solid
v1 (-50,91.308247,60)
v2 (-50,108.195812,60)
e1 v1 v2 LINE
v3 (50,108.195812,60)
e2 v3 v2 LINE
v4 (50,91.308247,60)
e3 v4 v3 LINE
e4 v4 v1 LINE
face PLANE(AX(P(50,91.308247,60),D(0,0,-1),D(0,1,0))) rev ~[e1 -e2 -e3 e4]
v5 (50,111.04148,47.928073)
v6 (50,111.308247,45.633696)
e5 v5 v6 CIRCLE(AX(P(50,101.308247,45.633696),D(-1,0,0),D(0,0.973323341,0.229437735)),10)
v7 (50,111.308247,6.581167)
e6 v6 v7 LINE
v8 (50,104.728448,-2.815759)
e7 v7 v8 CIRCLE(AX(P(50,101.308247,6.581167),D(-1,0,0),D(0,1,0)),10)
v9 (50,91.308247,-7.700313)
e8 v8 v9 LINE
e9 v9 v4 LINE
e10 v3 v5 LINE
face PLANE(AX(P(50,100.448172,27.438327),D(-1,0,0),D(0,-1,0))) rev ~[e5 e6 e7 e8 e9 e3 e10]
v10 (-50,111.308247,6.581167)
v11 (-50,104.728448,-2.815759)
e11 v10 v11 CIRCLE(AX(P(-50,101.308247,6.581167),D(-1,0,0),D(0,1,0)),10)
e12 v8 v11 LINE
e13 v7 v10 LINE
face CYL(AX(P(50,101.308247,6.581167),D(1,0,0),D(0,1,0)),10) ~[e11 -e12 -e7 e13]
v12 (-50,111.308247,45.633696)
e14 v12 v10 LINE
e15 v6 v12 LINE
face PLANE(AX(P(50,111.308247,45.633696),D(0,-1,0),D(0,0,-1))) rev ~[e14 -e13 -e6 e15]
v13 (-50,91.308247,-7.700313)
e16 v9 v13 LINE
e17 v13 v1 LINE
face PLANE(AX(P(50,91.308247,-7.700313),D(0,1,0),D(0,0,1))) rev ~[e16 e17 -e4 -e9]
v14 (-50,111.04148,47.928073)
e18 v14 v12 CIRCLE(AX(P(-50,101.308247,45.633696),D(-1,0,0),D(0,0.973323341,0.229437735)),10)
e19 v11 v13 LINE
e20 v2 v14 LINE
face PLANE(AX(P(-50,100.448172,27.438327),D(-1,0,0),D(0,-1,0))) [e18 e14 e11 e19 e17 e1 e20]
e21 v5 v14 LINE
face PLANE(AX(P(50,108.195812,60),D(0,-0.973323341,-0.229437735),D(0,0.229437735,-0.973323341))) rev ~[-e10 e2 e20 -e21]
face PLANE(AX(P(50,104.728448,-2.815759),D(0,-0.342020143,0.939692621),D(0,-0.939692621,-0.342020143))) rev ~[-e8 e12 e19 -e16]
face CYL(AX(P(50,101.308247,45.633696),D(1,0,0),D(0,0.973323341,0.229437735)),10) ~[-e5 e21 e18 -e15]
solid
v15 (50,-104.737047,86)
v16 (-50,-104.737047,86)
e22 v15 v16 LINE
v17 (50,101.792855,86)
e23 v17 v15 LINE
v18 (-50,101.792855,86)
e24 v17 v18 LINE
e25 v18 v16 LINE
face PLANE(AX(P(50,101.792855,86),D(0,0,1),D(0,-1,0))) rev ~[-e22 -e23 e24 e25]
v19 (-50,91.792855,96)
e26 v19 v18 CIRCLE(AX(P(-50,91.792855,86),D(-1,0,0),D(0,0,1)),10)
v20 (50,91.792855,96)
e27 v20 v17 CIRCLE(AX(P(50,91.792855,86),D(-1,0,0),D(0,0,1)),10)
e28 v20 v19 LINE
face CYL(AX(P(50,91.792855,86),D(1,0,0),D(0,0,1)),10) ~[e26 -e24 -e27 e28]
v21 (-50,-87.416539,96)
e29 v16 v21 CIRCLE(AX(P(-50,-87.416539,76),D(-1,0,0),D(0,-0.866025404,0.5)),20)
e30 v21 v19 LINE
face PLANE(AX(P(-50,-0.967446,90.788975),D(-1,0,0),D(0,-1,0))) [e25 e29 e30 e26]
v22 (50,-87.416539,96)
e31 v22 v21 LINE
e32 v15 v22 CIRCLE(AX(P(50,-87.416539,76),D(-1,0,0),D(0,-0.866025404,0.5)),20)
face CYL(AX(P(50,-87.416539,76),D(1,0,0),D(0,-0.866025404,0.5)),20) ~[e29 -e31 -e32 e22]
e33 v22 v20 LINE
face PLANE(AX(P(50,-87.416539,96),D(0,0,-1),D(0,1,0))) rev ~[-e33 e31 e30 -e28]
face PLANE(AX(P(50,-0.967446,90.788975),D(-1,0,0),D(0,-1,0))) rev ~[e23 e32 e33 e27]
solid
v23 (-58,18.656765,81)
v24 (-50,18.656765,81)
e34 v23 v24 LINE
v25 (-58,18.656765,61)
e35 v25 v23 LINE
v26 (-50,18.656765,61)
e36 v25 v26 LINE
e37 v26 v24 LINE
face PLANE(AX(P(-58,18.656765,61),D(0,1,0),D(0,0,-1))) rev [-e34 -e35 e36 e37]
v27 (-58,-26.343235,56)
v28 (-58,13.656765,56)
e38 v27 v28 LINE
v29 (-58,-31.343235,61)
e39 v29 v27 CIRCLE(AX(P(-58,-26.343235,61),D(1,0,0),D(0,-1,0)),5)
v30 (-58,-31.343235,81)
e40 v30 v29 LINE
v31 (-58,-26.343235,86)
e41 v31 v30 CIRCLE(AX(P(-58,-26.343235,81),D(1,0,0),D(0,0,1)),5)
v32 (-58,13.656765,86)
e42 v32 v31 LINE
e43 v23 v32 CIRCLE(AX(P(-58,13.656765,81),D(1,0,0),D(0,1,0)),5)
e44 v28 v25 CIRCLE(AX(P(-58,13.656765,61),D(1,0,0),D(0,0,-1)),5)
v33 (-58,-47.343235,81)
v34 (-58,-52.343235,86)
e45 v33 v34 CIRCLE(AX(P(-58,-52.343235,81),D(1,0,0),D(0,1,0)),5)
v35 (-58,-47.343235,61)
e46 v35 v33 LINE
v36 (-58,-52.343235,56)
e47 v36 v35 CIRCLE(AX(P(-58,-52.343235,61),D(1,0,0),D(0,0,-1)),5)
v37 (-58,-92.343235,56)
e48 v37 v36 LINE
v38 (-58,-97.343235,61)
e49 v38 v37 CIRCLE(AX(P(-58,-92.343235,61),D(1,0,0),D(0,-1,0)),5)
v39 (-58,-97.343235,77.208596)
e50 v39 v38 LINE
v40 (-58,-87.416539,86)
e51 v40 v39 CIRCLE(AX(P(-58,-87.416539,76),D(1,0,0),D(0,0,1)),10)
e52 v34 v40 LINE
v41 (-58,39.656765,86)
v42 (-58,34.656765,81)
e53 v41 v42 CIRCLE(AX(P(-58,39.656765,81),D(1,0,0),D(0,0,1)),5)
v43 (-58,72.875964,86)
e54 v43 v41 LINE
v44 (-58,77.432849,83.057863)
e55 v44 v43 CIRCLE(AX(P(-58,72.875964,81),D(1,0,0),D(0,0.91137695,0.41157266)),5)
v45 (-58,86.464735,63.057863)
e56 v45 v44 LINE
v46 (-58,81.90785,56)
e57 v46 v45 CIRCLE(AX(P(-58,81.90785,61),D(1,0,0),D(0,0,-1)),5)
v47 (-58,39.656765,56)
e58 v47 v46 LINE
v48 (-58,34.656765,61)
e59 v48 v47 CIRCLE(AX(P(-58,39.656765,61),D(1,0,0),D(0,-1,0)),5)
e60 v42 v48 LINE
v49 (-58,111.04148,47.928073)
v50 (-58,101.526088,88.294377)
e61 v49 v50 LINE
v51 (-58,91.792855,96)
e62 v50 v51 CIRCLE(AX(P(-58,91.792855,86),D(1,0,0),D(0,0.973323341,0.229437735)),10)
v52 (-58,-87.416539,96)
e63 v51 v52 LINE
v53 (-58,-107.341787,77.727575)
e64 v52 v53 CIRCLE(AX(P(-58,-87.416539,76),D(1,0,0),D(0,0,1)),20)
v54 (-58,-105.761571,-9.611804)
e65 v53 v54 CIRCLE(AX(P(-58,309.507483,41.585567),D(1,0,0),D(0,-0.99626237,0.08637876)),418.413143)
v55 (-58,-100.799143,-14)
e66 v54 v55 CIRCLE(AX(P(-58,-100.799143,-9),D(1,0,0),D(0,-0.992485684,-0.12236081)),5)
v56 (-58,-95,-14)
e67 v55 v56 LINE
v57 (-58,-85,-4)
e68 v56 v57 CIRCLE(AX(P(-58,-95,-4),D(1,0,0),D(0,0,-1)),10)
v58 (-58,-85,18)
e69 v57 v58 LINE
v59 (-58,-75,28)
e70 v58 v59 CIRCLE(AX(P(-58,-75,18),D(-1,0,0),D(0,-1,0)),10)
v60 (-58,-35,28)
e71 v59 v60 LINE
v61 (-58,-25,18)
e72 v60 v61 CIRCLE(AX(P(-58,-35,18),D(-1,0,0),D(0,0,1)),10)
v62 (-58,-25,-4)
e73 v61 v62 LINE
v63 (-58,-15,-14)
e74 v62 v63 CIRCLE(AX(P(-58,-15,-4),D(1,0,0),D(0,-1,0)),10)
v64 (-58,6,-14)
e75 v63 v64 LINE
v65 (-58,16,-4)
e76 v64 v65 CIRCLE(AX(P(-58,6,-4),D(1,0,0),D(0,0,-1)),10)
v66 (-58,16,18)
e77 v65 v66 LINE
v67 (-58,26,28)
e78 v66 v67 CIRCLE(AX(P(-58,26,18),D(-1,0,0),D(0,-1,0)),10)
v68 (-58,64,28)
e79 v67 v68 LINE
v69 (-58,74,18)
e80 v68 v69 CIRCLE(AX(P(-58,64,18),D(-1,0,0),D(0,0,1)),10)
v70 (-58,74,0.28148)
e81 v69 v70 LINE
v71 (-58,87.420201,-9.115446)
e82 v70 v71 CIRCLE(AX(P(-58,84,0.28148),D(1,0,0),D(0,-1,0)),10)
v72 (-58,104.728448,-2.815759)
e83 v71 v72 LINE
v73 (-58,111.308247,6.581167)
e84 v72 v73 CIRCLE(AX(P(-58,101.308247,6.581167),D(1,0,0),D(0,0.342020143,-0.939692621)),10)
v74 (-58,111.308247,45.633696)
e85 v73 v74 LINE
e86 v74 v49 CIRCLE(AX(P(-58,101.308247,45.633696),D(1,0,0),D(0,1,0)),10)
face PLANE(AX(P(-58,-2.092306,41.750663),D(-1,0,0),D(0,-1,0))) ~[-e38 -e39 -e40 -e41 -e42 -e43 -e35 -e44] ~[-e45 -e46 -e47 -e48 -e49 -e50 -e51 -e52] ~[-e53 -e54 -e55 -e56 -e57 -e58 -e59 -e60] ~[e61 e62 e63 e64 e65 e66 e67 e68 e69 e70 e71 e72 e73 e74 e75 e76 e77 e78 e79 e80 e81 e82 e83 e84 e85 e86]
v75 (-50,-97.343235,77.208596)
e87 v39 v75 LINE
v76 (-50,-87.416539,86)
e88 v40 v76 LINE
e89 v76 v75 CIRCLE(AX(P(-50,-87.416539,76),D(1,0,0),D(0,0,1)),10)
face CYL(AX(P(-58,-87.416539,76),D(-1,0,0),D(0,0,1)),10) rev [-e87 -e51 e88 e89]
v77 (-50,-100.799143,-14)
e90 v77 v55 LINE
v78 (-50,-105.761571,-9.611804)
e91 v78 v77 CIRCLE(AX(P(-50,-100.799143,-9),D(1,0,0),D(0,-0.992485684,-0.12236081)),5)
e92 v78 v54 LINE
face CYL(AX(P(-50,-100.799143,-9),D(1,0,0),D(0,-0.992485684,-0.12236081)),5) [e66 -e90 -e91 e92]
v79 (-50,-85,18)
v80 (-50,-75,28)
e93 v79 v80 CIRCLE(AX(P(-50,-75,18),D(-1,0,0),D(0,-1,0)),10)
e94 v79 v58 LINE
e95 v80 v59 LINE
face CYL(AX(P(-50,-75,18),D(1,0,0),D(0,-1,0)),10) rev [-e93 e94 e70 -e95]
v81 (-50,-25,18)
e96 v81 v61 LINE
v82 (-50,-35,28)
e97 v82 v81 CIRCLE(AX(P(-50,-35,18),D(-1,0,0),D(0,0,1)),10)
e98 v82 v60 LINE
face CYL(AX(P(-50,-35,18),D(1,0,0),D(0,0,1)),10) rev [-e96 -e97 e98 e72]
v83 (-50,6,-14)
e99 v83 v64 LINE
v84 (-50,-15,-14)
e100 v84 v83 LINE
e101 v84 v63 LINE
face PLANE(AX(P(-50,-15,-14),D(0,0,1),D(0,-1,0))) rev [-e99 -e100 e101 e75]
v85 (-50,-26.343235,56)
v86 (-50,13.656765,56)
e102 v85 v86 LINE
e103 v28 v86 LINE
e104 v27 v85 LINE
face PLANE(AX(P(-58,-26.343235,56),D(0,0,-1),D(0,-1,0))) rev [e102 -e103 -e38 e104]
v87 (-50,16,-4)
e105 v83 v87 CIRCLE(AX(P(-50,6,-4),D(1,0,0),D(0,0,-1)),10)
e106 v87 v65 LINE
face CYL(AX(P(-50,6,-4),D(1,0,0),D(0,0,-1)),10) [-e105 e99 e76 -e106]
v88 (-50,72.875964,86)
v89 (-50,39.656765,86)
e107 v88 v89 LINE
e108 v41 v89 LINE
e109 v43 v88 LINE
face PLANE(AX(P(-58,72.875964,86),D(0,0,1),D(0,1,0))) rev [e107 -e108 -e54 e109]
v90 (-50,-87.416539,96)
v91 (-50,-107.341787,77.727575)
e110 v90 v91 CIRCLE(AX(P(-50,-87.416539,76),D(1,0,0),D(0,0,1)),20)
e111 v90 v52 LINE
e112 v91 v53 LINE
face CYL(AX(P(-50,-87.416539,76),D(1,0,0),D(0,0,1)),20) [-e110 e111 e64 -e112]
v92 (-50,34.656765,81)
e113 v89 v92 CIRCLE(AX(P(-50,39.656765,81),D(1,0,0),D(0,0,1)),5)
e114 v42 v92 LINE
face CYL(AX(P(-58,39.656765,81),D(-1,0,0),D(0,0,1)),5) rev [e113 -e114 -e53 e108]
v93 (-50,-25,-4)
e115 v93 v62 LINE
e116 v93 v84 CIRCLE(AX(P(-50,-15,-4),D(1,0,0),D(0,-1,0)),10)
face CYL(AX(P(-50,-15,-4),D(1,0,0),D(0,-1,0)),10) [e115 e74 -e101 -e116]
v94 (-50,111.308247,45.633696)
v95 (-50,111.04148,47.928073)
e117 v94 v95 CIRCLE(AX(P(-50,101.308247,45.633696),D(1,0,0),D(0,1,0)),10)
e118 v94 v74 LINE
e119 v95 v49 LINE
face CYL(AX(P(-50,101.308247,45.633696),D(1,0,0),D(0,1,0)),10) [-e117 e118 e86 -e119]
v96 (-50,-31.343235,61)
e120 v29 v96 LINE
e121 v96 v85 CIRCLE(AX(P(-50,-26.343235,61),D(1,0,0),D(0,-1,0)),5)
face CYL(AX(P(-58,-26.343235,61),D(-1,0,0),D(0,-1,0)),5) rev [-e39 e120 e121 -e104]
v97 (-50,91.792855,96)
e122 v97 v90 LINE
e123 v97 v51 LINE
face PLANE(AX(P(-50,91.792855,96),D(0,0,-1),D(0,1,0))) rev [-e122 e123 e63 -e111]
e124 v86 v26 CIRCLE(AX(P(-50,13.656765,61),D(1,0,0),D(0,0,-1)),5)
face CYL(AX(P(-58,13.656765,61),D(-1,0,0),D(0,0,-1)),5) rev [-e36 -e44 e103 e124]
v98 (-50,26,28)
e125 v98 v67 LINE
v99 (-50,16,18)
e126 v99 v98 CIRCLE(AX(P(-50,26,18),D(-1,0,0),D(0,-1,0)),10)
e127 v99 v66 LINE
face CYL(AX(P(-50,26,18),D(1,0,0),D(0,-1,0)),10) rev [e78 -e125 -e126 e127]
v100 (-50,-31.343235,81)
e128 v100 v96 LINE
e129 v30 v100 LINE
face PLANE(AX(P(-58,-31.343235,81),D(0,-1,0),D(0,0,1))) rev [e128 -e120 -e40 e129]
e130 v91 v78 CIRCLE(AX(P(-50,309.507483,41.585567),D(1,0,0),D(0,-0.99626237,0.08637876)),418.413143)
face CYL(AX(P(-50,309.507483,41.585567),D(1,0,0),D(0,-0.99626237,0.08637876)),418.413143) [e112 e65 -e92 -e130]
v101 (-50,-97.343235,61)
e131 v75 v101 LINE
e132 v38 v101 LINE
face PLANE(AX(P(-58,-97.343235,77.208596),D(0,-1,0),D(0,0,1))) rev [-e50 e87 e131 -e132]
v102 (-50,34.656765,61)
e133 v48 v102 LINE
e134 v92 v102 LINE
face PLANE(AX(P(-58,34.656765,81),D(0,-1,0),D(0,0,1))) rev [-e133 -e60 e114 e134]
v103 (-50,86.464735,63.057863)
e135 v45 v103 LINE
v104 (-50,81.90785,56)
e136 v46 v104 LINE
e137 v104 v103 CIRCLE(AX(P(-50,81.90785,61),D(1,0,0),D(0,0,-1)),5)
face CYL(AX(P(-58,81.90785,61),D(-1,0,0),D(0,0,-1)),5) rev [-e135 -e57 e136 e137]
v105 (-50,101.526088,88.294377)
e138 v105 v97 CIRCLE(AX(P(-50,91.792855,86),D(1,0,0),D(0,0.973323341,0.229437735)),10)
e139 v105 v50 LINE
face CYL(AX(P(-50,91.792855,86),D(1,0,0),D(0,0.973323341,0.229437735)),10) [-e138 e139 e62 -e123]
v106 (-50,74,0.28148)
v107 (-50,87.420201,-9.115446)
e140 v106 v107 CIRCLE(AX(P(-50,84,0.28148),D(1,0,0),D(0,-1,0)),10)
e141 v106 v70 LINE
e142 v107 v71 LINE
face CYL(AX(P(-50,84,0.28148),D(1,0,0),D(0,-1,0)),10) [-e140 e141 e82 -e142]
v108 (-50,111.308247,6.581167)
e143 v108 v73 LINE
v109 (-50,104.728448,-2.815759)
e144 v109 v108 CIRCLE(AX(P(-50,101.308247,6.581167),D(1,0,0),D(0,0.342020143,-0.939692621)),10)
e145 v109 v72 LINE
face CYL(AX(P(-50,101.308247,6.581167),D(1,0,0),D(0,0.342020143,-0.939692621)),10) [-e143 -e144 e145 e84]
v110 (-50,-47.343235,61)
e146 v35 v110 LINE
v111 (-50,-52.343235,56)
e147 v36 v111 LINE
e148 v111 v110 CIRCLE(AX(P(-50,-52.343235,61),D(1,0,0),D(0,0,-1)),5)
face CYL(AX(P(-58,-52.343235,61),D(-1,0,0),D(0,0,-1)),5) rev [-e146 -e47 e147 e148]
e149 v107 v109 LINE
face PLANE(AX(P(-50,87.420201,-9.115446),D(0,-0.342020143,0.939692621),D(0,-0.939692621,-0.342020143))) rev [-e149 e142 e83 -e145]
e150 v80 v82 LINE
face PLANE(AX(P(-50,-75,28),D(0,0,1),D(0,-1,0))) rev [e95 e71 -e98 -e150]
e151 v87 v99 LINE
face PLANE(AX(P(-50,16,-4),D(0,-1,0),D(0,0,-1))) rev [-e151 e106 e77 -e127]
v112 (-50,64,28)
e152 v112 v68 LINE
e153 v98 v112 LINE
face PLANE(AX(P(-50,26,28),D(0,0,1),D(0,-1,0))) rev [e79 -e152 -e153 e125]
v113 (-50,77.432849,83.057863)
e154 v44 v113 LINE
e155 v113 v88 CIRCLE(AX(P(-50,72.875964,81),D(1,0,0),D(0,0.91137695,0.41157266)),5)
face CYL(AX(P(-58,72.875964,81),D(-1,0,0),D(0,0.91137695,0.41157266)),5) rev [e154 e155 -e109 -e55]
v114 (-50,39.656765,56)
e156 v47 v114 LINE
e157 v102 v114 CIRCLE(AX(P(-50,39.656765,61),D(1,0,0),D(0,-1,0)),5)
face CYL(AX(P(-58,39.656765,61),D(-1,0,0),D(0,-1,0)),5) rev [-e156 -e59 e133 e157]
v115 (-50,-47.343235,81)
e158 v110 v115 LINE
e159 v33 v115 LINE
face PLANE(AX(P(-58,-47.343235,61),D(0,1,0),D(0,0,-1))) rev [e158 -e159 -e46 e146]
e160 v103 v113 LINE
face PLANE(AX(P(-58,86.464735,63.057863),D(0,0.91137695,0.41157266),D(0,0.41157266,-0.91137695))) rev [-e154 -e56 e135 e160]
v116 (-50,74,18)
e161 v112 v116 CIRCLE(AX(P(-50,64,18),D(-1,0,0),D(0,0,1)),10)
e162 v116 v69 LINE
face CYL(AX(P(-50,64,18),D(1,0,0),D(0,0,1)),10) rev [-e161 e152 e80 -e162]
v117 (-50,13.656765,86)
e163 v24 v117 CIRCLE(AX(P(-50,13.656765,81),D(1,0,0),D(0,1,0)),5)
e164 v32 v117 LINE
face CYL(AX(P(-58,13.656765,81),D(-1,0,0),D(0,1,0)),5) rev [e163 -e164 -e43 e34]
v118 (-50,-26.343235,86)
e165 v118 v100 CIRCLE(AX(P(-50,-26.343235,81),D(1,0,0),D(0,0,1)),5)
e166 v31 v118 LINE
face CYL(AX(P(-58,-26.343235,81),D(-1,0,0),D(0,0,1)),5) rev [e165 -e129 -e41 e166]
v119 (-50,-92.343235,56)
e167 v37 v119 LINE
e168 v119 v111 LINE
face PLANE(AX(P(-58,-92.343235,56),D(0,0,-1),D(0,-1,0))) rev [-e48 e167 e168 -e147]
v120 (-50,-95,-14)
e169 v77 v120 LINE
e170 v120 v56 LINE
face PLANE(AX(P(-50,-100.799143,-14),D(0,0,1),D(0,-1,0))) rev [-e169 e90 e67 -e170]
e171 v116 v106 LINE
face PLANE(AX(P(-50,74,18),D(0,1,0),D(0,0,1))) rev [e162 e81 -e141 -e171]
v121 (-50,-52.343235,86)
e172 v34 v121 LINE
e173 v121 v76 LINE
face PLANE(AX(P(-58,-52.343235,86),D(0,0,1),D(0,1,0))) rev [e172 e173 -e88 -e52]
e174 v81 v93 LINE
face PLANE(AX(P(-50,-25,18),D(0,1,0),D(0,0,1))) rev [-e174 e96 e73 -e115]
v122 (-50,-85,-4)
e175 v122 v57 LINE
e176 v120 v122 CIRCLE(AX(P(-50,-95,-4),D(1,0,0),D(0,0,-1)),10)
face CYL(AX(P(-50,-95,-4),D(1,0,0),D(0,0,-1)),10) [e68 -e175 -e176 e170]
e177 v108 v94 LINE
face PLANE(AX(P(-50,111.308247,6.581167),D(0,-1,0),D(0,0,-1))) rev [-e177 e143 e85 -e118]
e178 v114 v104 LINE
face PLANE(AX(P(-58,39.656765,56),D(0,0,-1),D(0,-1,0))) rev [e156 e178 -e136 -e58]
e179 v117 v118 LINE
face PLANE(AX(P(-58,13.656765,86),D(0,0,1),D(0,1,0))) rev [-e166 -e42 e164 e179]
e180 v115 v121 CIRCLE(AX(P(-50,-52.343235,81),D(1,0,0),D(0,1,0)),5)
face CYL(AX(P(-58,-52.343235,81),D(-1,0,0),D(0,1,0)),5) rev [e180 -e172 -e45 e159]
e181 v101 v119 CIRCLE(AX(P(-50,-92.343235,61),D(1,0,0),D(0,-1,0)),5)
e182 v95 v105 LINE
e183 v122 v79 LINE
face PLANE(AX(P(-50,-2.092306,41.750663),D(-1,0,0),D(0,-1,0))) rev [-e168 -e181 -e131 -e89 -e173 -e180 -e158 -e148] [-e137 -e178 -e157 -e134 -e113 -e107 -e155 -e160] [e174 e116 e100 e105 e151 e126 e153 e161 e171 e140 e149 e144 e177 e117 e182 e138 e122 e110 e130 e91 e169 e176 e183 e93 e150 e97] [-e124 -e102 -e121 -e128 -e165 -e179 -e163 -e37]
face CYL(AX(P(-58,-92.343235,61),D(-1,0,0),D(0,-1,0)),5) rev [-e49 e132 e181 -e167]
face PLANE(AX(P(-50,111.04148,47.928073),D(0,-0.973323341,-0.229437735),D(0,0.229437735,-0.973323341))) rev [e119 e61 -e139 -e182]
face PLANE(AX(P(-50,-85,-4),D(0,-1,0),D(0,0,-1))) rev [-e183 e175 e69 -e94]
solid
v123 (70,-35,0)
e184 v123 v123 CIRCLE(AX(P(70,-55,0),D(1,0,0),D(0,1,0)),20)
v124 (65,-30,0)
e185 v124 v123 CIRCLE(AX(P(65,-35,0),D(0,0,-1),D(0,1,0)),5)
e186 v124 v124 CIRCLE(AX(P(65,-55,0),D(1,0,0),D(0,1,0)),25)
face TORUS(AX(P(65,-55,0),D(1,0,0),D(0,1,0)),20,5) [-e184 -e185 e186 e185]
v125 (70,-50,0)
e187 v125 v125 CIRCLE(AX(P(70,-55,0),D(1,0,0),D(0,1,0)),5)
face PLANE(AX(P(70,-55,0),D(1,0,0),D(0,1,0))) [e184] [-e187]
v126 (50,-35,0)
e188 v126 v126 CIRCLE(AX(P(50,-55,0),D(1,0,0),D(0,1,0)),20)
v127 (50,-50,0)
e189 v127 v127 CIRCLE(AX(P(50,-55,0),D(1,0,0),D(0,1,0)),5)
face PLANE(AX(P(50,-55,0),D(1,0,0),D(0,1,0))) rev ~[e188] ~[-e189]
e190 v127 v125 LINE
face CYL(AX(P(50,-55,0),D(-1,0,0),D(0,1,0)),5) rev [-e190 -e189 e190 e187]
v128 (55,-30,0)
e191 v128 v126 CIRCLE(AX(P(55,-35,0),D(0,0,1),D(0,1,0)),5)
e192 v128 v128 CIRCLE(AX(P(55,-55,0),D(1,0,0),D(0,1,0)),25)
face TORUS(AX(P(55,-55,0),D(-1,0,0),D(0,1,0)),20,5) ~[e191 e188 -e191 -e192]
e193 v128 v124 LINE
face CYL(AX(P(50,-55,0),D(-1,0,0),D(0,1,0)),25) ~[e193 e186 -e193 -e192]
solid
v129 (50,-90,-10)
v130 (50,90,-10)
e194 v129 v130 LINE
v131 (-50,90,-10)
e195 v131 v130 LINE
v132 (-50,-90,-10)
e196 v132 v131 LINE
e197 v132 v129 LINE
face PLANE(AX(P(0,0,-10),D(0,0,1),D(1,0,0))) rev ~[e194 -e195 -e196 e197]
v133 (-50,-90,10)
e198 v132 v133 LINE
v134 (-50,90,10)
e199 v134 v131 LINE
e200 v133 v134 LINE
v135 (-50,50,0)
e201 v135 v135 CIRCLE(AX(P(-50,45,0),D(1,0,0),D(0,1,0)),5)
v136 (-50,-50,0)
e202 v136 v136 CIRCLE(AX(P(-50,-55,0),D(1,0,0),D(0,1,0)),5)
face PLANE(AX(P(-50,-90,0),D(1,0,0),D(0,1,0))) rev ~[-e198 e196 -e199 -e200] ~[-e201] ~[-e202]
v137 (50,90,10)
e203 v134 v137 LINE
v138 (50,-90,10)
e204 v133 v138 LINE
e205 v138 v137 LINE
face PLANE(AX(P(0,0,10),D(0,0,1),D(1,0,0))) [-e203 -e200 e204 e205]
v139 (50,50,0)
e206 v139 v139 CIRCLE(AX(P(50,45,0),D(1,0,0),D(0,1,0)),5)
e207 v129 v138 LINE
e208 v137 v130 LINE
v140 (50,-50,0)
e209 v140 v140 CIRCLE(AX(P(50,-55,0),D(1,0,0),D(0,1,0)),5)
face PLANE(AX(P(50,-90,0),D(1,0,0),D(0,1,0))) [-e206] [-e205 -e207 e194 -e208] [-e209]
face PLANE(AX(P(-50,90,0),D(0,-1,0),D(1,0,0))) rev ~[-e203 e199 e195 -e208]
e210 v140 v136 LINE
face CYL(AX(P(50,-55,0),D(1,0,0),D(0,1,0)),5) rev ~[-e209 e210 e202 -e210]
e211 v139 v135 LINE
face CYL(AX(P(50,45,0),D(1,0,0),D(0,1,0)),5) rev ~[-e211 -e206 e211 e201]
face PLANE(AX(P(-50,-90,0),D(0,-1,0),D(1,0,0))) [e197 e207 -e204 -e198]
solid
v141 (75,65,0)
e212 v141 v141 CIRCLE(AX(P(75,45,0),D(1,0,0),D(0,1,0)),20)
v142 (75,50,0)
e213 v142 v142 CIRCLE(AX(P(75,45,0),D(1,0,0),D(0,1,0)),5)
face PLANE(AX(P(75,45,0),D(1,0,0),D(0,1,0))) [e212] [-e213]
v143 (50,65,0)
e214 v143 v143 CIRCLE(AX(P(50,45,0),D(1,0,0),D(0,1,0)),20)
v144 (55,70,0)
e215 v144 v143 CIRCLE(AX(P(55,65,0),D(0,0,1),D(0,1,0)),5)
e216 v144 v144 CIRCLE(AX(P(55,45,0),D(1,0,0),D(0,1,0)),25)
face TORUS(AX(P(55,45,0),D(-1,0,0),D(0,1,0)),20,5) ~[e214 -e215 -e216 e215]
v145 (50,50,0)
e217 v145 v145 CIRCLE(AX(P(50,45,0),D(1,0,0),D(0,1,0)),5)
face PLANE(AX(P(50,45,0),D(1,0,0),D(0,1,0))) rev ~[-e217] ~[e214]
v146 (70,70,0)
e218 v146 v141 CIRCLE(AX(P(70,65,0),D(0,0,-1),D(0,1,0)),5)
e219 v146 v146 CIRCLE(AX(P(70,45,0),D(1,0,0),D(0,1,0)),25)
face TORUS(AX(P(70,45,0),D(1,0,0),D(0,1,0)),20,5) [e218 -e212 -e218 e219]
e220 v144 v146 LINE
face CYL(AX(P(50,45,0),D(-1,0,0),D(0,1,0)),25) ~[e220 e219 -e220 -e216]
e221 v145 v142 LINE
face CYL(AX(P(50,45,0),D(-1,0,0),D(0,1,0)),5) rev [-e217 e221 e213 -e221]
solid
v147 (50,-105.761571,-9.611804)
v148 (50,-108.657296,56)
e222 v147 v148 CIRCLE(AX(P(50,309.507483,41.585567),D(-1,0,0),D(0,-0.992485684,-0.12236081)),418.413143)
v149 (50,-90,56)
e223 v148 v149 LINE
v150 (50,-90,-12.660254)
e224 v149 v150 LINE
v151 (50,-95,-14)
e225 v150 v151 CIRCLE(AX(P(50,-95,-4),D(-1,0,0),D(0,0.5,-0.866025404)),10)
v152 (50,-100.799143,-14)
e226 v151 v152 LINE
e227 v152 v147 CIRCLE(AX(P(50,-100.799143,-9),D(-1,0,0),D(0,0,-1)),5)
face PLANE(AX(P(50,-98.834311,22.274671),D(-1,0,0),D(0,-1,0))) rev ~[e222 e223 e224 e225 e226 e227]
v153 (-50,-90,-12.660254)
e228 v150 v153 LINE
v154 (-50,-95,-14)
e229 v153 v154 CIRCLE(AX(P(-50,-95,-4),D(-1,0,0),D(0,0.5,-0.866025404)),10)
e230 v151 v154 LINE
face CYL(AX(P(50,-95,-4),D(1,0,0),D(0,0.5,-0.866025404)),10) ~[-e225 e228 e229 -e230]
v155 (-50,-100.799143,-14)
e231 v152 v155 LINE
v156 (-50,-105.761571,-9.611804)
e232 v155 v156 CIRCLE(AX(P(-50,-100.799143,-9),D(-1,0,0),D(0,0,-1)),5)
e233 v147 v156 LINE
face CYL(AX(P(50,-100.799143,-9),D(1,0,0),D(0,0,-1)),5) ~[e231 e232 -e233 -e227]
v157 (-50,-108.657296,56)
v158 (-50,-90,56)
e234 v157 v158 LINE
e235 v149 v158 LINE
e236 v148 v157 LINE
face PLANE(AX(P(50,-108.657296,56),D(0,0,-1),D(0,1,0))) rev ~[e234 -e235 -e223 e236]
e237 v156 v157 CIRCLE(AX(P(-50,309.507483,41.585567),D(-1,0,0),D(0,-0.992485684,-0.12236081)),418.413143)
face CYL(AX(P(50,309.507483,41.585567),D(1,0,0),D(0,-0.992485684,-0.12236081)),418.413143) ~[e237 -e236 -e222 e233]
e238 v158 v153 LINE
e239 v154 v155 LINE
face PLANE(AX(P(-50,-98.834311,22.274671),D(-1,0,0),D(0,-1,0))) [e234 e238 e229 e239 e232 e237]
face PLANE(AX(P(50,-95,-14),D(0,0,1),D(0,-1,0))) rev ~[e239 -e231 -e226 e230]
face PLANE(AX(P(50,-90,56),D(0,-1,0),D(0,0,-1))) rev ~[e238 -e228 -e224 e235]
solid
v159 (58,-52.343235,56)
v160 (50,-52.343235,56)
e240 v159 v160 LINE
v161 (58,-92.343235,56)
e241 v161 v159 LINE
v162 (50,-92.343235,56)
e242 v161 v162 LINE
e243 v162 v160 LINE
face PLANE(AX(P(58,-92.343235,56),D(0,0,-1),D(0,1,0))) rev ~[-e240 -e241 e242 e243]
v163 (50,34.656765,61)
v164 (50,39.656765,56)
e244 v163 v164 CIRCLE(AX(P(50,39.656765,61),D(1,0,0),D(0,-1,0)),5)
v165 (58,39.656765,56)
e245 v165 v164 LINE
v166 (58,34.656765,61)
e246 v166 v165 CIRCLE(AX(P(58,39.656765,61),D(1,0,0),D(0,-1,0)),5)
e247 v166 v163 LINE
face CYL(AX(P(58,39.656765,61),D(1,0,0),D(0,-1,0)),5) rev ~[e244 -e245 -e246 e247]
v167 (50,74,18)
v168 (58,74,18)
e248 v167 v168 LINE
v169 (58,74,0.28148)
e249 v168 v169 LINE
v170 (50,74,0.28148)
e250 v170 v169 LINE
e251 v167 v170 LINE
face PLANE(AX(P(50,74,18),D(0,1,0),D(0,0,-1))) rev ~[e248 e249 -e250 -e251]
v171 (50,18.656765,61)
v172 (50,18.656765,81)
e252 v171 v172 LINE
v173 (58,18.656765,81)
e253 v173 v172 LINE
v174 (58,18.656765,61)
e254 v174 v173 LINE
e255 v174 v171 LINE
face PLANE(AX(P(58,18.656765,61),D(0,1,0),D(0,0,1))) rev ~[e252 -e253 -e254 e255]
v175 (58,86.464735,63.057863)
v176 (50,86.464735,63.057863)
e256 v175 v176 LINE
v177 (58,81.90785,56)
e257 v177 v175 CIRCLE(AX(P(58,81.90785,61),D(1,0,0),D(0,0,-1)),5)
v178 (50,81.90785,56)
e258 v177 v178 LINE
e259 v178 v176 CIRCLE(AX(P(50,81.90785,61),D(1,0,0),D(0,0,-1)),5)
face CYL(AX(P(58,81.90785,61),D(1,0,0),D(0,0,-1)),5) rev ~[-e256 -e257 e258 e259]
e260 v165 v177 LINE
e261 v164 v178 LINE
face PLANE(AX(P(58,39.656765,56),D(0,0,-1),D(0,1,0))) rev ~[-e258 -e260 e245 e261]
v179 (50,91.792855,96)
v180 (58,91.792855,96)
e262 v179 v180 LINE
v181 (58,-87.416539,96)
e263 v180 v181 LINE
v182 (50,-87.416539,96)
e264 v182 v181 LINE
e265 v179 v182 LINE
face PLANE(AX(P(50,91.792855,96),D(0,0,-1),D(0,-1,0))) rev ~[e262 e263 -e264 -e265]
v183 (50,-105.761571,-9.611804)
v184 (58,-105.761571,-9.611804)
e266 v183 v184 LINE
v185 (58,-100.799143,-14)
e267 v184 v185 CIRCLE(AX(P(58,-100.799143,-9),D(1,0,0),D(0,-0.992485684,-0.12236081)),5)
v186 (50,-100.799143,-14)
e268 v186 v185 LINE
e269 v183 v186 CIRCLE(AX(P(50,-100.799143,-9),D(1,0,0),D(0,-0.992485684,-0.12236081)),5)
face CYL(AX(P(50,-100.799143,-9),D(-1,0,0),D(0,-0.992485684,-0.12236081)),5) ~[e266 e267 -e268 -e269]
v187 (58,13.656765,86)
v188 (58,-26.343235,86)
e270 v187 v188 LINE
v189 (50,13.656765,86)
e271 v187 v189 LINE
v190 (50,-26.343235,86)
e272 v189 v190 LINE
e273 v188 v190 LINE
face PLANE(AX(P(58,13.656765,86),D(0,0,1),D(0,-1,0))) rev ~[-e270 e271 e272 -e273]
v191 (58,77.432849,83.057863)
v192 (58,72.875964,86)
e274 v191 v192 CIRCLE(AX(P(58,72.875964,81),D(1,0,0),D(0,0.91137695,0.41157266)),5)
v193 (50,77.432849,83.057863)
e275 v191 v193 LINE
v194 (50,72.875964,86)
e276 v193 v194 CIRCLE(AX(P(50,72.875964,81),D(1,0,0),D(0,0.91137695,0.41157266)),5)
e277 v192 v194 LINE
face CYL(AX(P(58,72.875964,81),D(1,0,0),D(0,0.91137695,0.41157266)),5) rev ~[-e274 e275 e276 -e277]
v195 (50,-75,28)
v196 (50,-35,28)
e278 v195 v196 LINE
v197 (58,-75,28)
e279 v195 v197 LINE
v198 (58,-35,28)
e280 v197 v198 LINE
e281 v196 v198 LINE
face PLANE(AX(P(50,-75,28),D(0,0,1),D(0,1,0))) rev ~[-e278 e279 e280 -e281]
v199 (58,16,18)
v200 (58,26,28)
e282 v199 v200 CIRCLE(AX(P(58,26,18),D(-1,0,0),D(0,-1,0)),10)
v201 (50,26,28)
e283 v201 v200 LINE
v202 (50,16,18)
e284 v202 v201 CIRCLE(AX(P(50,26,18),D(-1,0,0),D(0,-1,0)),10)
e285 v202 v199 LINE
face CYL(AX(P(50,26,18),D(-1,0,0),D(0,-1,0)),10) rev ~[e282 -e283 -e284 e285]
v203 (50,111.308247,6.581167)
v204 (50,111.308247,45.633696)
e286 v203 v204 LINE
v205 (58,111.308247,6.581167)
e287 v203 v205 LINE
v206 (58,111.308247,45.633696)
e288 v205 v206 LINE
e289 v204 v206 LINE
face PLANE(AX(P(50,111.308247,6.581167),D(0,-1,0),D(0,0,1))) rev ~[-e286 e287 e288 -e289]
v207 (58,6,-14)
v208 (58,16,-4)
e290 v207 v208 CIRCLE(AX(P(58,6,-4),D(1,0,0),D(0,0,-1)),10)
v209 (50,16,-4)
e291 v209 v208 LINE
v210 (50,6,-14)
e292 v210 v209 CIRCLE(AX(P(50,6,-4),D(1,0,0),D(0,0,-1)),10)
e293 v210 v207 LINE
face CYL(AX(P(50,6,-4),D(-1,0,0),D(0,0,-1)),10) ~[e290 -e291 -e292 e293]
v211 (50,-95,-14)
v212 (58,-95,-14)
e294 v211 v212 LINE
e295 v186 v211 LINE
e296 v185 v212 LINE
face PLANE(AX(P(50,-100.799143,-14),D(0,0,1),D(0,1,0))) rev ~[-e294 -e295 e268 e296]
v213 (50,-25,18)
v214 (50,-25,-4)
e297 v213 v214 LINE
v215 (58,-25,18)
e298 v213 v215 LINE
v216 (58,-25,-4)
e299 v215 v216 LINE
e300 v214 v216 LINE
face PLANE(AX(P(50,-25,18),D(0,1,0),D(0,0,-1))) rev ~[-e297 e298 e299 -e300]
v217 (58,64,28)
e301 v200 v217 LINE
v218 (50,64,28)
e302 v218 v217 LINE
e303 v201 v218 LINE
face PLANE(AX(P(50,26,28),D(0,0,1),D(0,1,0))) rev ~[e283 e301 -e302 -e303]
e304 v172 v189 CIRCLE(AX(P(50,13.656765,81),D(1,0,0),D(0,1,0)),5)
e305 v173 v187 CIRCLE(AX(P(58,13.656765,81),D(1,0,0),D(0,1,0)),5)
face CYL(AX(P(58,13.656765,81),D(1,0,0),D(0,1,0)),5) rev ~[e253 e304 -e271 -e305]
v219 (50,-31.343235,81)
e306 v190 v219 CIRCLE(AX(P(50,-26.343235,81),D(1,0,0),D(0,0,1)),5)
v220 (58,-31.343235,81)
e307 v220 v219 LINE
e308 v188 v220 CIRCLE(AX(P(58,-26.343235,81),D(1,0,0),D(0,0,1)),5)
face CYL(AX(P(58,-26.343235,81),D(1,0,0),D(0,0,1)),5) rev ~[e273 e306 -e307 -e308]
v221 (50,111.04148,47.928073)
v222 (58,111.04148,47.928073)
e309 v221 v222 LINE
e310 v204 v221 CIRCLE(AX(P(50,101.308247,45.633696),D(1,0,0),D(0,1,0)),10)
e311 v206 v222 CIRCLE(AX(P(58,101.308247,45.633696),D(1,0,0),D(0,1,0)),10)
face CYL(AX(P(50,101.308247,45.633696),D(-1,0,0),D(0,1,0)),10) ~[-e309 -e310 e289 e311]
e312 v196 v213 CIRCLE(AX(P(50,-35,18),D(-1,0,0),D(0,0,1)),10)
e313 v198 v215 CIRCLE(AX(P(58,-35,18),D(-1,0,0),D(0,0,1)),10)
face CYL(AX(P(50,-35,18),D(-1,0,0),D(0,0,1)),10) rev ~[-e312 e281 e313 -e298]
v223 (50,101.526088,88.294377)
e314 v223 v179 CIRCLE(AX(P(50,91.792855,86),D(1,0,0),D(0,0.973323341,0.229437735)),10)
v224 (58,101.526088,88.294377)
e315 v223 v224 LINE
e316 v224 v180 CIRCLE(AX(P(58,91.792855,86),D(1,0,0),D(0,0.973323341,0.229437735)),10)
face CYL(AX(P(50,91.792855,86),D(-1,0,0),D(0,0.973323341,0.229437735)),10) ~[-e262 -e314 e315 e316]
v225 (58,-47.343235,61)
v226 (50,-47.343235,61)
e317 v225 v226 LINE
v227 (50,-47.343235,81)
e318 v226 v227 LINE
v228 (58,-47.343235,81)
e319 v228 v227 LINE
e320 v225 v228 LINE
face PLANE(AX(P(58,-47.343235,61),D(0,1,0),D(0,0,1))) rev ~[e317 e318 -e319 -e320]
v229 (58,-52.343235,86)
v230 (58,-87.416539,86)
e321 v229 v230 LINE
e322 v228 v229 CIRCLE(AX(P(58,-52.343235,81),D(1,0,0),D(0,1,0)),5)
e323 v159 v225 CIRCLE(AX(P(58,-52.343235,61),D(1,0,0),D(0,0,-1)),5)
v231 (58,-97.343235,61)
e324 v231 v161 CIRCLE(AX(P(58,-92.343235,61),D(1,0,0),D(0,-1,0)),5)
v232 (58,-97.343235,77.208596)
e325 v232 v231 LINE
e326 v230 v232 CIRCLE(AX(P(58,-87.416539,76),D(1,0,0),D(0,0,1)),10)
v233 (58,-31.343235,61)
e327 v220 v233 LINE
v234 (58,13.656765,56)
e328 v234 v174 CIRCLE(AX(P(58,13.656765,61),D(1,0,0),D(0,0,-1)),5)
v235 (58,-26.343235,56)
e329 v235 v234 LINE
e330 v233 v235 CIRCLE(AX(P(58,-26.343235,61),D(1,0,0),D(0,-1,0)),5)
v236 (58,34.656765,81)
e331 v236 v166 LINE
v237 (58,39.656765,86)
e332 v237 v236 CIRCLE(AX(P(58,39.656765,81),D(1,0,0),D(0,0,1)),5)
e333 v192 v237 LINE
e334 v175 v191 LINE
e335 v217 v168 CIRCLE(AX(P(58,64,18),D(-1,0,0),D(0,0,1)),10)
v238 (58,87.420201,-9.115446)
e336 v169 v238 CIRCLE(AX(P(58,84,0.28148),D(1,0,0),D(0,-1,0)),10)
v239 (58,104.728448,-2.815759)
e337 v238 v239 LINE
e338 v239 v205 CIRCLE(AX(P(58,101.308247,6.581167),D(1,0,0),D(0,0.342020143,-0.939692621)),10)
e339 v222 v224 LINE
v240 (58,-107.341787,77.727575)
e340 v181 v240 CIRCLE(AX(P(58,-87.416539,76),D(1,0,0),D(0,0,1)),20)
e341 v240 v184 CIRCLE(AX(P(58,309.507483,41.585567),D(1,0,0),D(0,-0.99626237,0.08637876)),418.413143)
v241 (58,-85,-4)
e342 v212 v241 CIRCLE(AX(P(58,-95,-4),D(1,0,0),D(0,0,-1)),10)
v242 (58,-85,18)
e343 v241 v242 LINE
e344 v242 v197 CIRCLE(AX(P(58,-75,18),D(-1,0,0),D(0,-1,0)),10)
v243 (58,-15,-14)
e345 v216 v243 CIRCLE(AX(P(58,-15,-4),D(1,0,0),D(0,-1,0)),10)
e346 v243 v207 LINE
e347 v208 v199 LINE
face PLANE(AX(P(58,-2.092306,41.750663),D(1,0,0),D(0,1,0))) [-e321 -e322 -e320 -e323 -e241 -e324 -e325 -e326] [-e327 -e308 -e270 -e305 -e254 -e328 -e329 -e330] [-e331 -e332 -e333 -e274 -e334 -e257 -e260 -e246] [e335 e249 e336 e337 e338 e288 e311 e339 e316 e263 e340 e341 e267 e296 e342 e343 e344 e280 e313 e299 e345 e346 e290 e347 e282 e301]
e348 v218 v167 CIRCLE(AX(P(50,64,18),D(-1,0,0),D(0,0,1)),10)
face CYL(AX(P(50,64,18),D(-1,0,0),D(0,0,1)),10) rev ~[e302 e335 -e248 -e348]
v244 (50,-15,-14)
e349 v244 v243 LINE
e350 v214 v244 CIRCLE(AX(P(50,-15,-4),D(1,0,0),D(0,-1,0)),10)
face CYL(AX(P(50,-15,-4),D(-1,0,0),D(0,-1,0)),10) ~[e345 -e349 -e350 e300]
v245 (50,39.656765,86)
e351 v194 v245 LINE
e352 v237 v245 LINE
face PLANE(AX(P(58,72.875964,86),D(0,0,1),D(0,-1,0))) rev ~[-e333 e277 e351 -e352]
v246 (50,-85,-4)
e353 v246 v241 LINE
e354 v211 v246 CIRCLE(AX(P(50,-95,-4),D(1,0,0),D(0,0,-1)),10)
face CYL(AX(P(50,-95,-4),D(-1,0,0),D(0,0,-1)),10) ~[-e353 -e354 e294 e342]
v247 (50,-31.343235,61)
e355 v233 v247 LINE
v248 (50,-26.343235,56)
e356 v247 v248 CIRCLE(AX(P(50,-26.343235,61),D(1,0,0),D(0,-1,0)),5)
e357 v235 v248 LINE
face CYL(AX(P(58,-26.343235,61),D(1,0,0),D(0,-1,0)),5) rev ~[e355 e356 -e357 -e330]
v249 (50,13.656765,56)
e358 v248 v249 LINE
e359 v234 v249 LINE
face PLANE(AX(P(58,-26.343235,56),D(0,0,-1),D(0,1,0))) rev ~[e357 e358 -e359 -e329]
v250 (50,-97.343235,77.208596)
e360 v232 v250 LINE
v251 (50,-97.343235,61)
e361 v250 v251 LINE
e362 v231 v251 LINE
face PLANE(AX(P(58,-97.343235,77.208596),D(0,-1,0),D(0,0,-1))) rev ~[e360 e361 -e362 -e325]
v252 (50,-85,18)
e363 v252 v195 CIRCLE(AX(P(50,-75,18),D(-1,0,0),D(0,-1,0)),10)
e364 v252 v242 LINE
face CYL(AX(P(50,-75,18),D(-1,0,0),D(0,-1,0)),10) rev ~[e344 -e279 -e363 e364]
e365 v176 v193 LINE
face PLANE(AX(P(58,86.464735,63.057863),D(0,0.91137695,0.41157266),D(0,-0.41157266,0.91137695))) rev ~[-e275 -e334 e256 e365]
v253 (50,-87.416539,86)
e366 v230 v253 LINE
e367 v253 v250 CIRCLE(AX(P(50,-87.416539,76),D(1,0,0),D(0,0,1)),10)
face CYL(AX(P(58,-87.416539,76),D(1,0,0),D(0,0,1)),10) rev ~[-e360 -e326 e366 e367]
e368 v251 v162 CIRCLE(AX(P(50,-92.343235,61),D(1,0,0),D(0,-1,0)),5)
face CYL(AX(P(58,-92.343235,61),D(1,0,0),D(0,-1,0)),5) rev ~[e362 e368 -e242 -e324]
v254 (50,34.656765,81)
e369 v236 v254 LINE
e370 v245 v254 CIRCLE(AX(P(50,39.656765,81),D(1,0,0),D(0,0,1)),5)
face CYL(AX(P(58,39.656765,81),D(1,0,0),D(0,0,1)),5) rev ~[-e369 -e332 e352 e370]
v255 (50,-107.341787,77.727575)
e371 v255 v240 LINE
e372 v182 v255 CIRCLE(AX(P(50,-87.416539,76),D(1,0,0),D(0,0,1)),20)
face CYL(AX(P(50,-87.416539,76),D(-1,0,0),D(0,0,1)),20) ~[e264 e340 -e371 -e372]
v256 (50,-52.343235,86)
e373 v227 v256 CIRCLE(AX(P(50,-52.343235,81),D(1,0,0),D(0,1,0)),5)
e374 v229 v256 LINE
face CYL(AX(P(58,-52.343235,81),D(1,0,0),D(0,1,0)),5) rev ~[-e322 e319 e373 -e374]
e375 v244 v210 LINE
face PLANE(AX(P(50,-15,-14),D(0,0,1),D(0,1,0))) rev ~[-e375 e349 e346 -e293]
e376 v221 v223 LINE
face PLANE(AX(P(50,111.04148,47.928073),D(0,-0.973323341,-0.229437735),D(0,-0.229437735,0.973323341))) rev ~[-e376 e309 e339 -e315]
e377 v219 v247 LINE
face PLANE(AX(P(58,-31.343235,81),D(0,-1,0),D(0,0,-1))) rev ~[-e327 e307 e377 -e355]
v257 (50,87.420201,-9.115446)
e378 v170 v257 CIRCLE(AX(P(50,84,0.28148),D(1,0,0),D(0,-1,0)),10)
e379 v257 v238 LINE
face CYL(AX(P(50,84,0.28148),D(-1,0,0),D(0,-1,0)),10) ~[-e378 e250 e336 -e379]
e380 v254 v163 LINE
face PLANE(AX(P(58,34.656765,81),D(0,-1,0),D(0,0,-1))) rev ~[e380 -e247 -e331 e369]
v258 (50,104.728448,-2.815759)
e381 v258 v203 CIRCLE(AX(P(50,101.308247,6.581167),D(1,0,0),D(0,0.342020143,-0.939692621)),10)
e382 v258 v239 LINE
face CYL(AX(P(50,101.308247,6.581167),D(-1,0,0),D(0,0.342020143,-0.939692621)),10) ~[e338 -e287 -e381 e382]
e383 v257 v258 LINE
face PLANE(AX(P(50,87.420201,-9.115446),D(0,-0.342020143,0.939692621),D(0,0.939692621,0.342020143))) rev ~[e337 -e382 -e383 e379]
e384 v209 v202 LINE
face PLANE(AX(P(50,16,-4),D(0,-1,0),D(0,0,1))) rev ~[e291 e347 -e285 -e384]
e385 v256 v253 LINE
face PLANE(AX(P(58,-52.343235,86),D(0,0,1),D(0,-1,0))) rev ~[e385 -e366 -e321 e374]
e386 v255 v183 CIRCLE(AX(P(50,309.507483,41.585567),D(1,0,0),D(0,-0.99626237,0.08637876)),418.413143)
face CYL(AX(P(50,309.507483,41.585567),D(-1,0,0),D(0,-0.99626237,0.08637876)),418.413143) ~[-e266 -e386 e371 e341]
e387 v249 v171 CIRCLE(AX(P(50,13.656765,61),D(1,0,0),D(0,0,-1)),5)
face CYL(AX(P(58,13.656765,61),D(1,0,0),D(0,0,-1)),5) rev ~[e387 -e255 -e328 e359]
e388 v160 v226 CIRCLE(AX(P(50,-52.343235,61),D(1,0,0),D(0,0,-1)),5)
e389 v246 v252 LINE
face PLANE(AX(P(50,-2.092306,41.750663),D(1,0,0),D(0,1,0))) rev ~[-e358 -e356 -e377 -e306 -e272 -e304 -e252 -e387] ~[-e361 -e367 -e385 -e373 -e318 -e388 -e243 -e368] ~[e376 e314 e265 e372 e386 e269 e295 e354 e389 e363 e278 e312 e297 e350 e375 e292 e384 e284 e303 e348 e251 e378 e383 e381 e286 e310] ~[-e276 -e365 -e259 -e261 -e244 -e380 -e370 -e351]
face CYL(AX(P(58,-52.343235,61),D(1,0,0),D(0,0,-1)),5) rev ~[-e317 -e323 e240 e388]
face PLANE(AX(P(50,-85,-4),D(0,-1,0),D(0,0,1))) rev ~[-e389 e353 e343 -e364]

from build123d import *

# Parameters (mm, degrees)
F0_W          = 100
F0_H          = 180
F1_DEPTH      = 10
F1_DEPTH_BACK = 10
F2_R          = 5
F3_DEPTH      = 100.001
F4_R          = 25
F4_R_2        = 5
F5_DEPTH      = 20
F6_R          = 5
F7_R          = 25
F7_R_2        = 5
F8_DEPTH      = 25
F9_R          = 5
F11_DEPTH     = 8
F13_DEPTH     = 108.001
F16_DEPTH     = 100
F18_DEPTH     = 100
F20_DEPTH     = 100


with BuildPart() as f1:
    # F0 (on Top) → F1 (new body, two sides)
    with BuildSketch(Plane.XY) as f1_sk:
        Rectangle(F0_W, F0_H)
    extrude(amount=F1_DEPTH)
    extrude(f1_sk.sketch, amount=-F1_DEPTH_BACK)

    # F2 (on face) → F3 (cut, through all)
    with BuildSketch(Plane.YZ.offset(50)):
        with Locations((-55, 0)):
            Circle(F2_R)
        with Locations((45, 0)):
            Circle(F2_R)
    extrude(amount=-F3_DEPTH, mode=Mode.SUBTRACT)


with BuildPart() as f5:
    # F4 (on face) → F5 (new body)
    with BuildSketch(Plane.YZ.offset(50)):
        with Locations((-55, 0)):
            Circle(F4_R)
        with Locations((-55, 0)):
            Circle(F4_R_2, mode=Mode.SUBTRACT)
    extrude(amount=F5_DEPTH)

    # F6
    f6_edges = [f5.edges().sort_by_distance(p)[0] for p in [
        (60, -30, 0),
        (50, -80, 0),
        (70, -80, 0),
    ]]
    fillet(f6_edges, radius=F6_R)


with BuildPart() as f8:
    # F7 (on face) → F8 (new body)
    with BuildSketch(Plane.YZ.offset(50)):
        with Locations((45, 0)):
            Circle(F7_R)
        with Locations((45, 0)):
            Circle(F7_R_2, mode=Mode.SUBTRACT)
    extrude(amount=F8_DEPTH)

    # F9
    f9_edges = [f8.edges().sort_by_distance(p)[0] for p in [
        (62.5, 70, 0),
        (50, 20, 0),
        (75, 20, 0),
    ]]
    fillet(f9_edges, radius=F9_R)


with BuildPart() as f11:
    # F10 (on face) → F11 (new body)
    with BuildSketch(Plane.YZ.offset(50)):
        with BuildLine():
            Line((91.7928546101, 96), (-87.4165392055, 96))
            ThreePointArc((-87.4165392055, 96), (-100.9340925368, 90.7402765216), (-107.3417866055, 77.7275751934))
            ThreePointArc((-107.3417866055, 77.7275751934), (-108.8371931705, 34.0165341883), (-105.7615714027, -9.6118040482))
            ThreePointArc((-105.7615714027, -9.6118040482), (-104.111315969, -12.7455987666), (-100.7991429844, -14))
            Line((-100.7991429844, -14), (-95, -14))
            ThreePointArc((-95, -14), (-87.9289321881, -11.0710678119), (-85, -4))
            Line((-85, -4), (-85, 18))
            ThreePointArc((-85, 18), (-82.0710678119, 25.0710678119), (-75, 28))
            Line((-75, 28), (-35, 28))
            ThreePointArc((-35, 28), (-27.9289321881, 25.0710678119), (-25, 18))
            Line((-25, 18), (-25, -4))
            ThreePointArc((-25, -4), (-22.0710678119, -11.0710678119), (-15, -14))
            Line((-15, -14), (6, -14))
            ThreePointArc((6, -14), (13.0710678119, -11.0710678119), (16, -4))
            Line((16, -4), (16, 18))
            ThreePointArc((16, 18), (18.9289321881, 25.0710678119), (26, 28))
            Line((26, 28), (64, 28))
            ThreePointArc((64, 28), (71.0710678119, 25.0710678119), (74, 18))
            Line((74, 18), (74, 0.2814800674))
            ThreePointArc((74, 0.2814800674), (78.2642356365, -7.9100403755), (87.4202014333, -9.1154461404))
            Line((87.4202014333, -9.1154461404), (104.7284482842, -2.8157594794))
            ThreePointArc((104.7284482842, -2.8157594794), (109.4997672939, 0.845402365), (111.308246851, 6.5811667285))
            Line((111.308246851, 6.5811667285), (111.308246851, 45.6336960196))
            ThreePointArc((111.308246851, 45.6336960196), (111.2413313184, 46.7886128835), (111.0414802585, 47.9280733719))
            Line((111.0414802585, 47.9280733719), (101.5260880176, 88.2943773522))
            ThreePointArc((101.5260880176, 88.2943773522), (97.999956449, 93.8404009311), (91.7928546101, 96))
        make_face()
    extrude(amount=F11_DEPTH)

    # F12 (on face) → F13 (cut, through all)
    with BuildSketch(Plane.YZ.offset(58)):
        with BuildLine():
            Line((-52.343235347, 86), (-87.4165392055, 86))
            ThreePointArc((-87.4165392055, 86), (-94.0465483452, 83.4861858652), (-97.343235347, 77.2085957615))
            Line((-97.343235347, 77.2085957615), (-97.343235347, 61))
            ThreePointArc((-97.343235347, 61), (-95.8787692529, 57.4644660941), (-92.343235347, 56))
            Line((-92.343235347, 56), (-52.343235347, 56))
            ThreePointArc((-52.343235347, 56), (-48.807701441, 57.4644660941), (-47.343235347, 61))
            Line((-47.343235347, 61), (-47.343235347, 81))
            ThreePointArc((-47.343235347, 81), (-48.807701441, 84.5355339059), (-52.343235347, 86))
        make_face()
        with BuildLine():
            ThreePointArc((-26.343235347, 86), (-29.8787692529, 84.5355339059), (-31.343235347, 81))
            Line((-31.343235347, 81), (-31.343235347, 61))
            ThreePointArc((-31.343235347, 61), (-29.8787692529, 57.4644660941), (-26.343235347, 56))
            Line((-26.343235347, 56), (13.656764653, 56))
            ThreePointArc((13.656764653, 56), (17.192298559, 57.4644660941), (18.656764653, 61))
            Line((18.656764653, 61), (18.656764653, 81))
            ThreePointArc((18.656764653, 81), (17.192298559, 84.5355339059), (13.656764653, 86))
            Line((13.656764653, 86), (-26.343235347, 86))
        make_face()
        with BuildLine():
            Line((86.4647350813, 63.0578633006), (77.4328485492, 83.0578633006))
            ThreePointArc((77.4328485492, 83.0578633006), (75.5880371282, 85.2005545172), (72.875963798, 86))
            Line((72.875963798, 86), (39.656764653, 86))
            ThreePointArc((39.656764653, 86), (36.1212307471, 84.5355339059), (34.656764653, 81))
            Line((34.656764653, 81), (34.656764653, 61))
            ThreePointArc((34.656764653, 61), (36.1212307471, 57.4644660941), (39.656764653, 56))
            Line((39.656764653, 56), (81.9078503301, 56))
            ThreePointArc((81.9078503301, 56), (86.1084048473, 58.2879266698), (86.4647350813, 63.0578633006))
        make_face()
    extrude(amount=-F13_DEPTH, mode=Mode.SUBTRACT)


with BuildPart() as f14_1:
    # F14: instance of F11
    add(f11.part.mirror(Plane.YZ))


with BuildPart() as f16:
    # F15 (on face) → F16 (new body, through all)
    with BuildSketch(Plane(origin=(50, 0, 0), x_dir=(0, -1, 0), z_dir=(-1, 0, 0))):
        with BuildLine():
            ThreePointArc((-91.7928546101, 96), (-98.863922422, 93.0710678119), (-101.7928546101, 86))
            Line((-101.7928546101, 86), (104.7370472812, 86))
            ThreePointArc((104.7370472812, 86), (97.4165392055, 93.3205080757), (87.4165392055, 96))
            Line((87.4165392055, 96), (-91.7928546101, 96))
        make_face()
    extrude(amount=F16_DEPTH)


with BuildPart() as f18:
    # F17 (on face) → F18 (new body, through all)
    with BuildSketch(Plane(origin=(50, 0, 0), x_dir=(0, -1, 0), z_dir=(-1, 0, 0))):
        with BuildLine():
            ThreePointArc((-111.308246851, 6.5811667285), (-109.4997672939, 0.845402365), (-104.7284482842, -2.8157594794))
            Line((-104.7284482842, -2.8157594794), (-91.308246851, -7.7003133389))
            Line((-91.308246851, -7.7003133389), (-91.308246851, 60))
            Line((-91.308246851, 60), (-108.1958118261, 60))
            Line((-108.1958118261, 60), (-111.0414802585, 47.9280733719))
            ThreePointArc((-111.0414802585, 47.9280733719), (-111.2413313184, 46.7886128835), (-111.308246851, 45.6336960196))
            Line((-111.308246851, 45.6336960196), (-111.308246851, 6.5811667285))
        make_face()
    extrude(amount=F18_DEPTH)


with BuildPart() as f20:
    # F19 (on face) → F20 (new body, through all)
    with BuildSketch(Plane(origin=(50, 0, 0), x_dir=(0, -1, 0), z_dir=(-1, 0, 0))):
        with BuildLine():
            ThreePointArc((105.7615714027, -9.6118040482), (108.4987560708, 23.1371947625), (108.6572960691, 56))
            Line((108.6572960691, 56), (90, 56))
            Line((90, 56), (90, -12.6602540378))
            ThreePointArc((90, -12.6602540378), (92.411809549, -13.6592582629), (95, -14))
            Line((95, -14), (100.7991429844, -14))
            ThreePointArc((100.7991429844, -14), (104.111315969, -12.7455987666), (105.7615714027, -9.6118040482))
        make_face()
    extrude(amount=F20_DEPTH)


solid = Compound([f1.part, f5.part, f8.part, f11.part, f14_1.part, f16.part, f18.part, f20.part])
